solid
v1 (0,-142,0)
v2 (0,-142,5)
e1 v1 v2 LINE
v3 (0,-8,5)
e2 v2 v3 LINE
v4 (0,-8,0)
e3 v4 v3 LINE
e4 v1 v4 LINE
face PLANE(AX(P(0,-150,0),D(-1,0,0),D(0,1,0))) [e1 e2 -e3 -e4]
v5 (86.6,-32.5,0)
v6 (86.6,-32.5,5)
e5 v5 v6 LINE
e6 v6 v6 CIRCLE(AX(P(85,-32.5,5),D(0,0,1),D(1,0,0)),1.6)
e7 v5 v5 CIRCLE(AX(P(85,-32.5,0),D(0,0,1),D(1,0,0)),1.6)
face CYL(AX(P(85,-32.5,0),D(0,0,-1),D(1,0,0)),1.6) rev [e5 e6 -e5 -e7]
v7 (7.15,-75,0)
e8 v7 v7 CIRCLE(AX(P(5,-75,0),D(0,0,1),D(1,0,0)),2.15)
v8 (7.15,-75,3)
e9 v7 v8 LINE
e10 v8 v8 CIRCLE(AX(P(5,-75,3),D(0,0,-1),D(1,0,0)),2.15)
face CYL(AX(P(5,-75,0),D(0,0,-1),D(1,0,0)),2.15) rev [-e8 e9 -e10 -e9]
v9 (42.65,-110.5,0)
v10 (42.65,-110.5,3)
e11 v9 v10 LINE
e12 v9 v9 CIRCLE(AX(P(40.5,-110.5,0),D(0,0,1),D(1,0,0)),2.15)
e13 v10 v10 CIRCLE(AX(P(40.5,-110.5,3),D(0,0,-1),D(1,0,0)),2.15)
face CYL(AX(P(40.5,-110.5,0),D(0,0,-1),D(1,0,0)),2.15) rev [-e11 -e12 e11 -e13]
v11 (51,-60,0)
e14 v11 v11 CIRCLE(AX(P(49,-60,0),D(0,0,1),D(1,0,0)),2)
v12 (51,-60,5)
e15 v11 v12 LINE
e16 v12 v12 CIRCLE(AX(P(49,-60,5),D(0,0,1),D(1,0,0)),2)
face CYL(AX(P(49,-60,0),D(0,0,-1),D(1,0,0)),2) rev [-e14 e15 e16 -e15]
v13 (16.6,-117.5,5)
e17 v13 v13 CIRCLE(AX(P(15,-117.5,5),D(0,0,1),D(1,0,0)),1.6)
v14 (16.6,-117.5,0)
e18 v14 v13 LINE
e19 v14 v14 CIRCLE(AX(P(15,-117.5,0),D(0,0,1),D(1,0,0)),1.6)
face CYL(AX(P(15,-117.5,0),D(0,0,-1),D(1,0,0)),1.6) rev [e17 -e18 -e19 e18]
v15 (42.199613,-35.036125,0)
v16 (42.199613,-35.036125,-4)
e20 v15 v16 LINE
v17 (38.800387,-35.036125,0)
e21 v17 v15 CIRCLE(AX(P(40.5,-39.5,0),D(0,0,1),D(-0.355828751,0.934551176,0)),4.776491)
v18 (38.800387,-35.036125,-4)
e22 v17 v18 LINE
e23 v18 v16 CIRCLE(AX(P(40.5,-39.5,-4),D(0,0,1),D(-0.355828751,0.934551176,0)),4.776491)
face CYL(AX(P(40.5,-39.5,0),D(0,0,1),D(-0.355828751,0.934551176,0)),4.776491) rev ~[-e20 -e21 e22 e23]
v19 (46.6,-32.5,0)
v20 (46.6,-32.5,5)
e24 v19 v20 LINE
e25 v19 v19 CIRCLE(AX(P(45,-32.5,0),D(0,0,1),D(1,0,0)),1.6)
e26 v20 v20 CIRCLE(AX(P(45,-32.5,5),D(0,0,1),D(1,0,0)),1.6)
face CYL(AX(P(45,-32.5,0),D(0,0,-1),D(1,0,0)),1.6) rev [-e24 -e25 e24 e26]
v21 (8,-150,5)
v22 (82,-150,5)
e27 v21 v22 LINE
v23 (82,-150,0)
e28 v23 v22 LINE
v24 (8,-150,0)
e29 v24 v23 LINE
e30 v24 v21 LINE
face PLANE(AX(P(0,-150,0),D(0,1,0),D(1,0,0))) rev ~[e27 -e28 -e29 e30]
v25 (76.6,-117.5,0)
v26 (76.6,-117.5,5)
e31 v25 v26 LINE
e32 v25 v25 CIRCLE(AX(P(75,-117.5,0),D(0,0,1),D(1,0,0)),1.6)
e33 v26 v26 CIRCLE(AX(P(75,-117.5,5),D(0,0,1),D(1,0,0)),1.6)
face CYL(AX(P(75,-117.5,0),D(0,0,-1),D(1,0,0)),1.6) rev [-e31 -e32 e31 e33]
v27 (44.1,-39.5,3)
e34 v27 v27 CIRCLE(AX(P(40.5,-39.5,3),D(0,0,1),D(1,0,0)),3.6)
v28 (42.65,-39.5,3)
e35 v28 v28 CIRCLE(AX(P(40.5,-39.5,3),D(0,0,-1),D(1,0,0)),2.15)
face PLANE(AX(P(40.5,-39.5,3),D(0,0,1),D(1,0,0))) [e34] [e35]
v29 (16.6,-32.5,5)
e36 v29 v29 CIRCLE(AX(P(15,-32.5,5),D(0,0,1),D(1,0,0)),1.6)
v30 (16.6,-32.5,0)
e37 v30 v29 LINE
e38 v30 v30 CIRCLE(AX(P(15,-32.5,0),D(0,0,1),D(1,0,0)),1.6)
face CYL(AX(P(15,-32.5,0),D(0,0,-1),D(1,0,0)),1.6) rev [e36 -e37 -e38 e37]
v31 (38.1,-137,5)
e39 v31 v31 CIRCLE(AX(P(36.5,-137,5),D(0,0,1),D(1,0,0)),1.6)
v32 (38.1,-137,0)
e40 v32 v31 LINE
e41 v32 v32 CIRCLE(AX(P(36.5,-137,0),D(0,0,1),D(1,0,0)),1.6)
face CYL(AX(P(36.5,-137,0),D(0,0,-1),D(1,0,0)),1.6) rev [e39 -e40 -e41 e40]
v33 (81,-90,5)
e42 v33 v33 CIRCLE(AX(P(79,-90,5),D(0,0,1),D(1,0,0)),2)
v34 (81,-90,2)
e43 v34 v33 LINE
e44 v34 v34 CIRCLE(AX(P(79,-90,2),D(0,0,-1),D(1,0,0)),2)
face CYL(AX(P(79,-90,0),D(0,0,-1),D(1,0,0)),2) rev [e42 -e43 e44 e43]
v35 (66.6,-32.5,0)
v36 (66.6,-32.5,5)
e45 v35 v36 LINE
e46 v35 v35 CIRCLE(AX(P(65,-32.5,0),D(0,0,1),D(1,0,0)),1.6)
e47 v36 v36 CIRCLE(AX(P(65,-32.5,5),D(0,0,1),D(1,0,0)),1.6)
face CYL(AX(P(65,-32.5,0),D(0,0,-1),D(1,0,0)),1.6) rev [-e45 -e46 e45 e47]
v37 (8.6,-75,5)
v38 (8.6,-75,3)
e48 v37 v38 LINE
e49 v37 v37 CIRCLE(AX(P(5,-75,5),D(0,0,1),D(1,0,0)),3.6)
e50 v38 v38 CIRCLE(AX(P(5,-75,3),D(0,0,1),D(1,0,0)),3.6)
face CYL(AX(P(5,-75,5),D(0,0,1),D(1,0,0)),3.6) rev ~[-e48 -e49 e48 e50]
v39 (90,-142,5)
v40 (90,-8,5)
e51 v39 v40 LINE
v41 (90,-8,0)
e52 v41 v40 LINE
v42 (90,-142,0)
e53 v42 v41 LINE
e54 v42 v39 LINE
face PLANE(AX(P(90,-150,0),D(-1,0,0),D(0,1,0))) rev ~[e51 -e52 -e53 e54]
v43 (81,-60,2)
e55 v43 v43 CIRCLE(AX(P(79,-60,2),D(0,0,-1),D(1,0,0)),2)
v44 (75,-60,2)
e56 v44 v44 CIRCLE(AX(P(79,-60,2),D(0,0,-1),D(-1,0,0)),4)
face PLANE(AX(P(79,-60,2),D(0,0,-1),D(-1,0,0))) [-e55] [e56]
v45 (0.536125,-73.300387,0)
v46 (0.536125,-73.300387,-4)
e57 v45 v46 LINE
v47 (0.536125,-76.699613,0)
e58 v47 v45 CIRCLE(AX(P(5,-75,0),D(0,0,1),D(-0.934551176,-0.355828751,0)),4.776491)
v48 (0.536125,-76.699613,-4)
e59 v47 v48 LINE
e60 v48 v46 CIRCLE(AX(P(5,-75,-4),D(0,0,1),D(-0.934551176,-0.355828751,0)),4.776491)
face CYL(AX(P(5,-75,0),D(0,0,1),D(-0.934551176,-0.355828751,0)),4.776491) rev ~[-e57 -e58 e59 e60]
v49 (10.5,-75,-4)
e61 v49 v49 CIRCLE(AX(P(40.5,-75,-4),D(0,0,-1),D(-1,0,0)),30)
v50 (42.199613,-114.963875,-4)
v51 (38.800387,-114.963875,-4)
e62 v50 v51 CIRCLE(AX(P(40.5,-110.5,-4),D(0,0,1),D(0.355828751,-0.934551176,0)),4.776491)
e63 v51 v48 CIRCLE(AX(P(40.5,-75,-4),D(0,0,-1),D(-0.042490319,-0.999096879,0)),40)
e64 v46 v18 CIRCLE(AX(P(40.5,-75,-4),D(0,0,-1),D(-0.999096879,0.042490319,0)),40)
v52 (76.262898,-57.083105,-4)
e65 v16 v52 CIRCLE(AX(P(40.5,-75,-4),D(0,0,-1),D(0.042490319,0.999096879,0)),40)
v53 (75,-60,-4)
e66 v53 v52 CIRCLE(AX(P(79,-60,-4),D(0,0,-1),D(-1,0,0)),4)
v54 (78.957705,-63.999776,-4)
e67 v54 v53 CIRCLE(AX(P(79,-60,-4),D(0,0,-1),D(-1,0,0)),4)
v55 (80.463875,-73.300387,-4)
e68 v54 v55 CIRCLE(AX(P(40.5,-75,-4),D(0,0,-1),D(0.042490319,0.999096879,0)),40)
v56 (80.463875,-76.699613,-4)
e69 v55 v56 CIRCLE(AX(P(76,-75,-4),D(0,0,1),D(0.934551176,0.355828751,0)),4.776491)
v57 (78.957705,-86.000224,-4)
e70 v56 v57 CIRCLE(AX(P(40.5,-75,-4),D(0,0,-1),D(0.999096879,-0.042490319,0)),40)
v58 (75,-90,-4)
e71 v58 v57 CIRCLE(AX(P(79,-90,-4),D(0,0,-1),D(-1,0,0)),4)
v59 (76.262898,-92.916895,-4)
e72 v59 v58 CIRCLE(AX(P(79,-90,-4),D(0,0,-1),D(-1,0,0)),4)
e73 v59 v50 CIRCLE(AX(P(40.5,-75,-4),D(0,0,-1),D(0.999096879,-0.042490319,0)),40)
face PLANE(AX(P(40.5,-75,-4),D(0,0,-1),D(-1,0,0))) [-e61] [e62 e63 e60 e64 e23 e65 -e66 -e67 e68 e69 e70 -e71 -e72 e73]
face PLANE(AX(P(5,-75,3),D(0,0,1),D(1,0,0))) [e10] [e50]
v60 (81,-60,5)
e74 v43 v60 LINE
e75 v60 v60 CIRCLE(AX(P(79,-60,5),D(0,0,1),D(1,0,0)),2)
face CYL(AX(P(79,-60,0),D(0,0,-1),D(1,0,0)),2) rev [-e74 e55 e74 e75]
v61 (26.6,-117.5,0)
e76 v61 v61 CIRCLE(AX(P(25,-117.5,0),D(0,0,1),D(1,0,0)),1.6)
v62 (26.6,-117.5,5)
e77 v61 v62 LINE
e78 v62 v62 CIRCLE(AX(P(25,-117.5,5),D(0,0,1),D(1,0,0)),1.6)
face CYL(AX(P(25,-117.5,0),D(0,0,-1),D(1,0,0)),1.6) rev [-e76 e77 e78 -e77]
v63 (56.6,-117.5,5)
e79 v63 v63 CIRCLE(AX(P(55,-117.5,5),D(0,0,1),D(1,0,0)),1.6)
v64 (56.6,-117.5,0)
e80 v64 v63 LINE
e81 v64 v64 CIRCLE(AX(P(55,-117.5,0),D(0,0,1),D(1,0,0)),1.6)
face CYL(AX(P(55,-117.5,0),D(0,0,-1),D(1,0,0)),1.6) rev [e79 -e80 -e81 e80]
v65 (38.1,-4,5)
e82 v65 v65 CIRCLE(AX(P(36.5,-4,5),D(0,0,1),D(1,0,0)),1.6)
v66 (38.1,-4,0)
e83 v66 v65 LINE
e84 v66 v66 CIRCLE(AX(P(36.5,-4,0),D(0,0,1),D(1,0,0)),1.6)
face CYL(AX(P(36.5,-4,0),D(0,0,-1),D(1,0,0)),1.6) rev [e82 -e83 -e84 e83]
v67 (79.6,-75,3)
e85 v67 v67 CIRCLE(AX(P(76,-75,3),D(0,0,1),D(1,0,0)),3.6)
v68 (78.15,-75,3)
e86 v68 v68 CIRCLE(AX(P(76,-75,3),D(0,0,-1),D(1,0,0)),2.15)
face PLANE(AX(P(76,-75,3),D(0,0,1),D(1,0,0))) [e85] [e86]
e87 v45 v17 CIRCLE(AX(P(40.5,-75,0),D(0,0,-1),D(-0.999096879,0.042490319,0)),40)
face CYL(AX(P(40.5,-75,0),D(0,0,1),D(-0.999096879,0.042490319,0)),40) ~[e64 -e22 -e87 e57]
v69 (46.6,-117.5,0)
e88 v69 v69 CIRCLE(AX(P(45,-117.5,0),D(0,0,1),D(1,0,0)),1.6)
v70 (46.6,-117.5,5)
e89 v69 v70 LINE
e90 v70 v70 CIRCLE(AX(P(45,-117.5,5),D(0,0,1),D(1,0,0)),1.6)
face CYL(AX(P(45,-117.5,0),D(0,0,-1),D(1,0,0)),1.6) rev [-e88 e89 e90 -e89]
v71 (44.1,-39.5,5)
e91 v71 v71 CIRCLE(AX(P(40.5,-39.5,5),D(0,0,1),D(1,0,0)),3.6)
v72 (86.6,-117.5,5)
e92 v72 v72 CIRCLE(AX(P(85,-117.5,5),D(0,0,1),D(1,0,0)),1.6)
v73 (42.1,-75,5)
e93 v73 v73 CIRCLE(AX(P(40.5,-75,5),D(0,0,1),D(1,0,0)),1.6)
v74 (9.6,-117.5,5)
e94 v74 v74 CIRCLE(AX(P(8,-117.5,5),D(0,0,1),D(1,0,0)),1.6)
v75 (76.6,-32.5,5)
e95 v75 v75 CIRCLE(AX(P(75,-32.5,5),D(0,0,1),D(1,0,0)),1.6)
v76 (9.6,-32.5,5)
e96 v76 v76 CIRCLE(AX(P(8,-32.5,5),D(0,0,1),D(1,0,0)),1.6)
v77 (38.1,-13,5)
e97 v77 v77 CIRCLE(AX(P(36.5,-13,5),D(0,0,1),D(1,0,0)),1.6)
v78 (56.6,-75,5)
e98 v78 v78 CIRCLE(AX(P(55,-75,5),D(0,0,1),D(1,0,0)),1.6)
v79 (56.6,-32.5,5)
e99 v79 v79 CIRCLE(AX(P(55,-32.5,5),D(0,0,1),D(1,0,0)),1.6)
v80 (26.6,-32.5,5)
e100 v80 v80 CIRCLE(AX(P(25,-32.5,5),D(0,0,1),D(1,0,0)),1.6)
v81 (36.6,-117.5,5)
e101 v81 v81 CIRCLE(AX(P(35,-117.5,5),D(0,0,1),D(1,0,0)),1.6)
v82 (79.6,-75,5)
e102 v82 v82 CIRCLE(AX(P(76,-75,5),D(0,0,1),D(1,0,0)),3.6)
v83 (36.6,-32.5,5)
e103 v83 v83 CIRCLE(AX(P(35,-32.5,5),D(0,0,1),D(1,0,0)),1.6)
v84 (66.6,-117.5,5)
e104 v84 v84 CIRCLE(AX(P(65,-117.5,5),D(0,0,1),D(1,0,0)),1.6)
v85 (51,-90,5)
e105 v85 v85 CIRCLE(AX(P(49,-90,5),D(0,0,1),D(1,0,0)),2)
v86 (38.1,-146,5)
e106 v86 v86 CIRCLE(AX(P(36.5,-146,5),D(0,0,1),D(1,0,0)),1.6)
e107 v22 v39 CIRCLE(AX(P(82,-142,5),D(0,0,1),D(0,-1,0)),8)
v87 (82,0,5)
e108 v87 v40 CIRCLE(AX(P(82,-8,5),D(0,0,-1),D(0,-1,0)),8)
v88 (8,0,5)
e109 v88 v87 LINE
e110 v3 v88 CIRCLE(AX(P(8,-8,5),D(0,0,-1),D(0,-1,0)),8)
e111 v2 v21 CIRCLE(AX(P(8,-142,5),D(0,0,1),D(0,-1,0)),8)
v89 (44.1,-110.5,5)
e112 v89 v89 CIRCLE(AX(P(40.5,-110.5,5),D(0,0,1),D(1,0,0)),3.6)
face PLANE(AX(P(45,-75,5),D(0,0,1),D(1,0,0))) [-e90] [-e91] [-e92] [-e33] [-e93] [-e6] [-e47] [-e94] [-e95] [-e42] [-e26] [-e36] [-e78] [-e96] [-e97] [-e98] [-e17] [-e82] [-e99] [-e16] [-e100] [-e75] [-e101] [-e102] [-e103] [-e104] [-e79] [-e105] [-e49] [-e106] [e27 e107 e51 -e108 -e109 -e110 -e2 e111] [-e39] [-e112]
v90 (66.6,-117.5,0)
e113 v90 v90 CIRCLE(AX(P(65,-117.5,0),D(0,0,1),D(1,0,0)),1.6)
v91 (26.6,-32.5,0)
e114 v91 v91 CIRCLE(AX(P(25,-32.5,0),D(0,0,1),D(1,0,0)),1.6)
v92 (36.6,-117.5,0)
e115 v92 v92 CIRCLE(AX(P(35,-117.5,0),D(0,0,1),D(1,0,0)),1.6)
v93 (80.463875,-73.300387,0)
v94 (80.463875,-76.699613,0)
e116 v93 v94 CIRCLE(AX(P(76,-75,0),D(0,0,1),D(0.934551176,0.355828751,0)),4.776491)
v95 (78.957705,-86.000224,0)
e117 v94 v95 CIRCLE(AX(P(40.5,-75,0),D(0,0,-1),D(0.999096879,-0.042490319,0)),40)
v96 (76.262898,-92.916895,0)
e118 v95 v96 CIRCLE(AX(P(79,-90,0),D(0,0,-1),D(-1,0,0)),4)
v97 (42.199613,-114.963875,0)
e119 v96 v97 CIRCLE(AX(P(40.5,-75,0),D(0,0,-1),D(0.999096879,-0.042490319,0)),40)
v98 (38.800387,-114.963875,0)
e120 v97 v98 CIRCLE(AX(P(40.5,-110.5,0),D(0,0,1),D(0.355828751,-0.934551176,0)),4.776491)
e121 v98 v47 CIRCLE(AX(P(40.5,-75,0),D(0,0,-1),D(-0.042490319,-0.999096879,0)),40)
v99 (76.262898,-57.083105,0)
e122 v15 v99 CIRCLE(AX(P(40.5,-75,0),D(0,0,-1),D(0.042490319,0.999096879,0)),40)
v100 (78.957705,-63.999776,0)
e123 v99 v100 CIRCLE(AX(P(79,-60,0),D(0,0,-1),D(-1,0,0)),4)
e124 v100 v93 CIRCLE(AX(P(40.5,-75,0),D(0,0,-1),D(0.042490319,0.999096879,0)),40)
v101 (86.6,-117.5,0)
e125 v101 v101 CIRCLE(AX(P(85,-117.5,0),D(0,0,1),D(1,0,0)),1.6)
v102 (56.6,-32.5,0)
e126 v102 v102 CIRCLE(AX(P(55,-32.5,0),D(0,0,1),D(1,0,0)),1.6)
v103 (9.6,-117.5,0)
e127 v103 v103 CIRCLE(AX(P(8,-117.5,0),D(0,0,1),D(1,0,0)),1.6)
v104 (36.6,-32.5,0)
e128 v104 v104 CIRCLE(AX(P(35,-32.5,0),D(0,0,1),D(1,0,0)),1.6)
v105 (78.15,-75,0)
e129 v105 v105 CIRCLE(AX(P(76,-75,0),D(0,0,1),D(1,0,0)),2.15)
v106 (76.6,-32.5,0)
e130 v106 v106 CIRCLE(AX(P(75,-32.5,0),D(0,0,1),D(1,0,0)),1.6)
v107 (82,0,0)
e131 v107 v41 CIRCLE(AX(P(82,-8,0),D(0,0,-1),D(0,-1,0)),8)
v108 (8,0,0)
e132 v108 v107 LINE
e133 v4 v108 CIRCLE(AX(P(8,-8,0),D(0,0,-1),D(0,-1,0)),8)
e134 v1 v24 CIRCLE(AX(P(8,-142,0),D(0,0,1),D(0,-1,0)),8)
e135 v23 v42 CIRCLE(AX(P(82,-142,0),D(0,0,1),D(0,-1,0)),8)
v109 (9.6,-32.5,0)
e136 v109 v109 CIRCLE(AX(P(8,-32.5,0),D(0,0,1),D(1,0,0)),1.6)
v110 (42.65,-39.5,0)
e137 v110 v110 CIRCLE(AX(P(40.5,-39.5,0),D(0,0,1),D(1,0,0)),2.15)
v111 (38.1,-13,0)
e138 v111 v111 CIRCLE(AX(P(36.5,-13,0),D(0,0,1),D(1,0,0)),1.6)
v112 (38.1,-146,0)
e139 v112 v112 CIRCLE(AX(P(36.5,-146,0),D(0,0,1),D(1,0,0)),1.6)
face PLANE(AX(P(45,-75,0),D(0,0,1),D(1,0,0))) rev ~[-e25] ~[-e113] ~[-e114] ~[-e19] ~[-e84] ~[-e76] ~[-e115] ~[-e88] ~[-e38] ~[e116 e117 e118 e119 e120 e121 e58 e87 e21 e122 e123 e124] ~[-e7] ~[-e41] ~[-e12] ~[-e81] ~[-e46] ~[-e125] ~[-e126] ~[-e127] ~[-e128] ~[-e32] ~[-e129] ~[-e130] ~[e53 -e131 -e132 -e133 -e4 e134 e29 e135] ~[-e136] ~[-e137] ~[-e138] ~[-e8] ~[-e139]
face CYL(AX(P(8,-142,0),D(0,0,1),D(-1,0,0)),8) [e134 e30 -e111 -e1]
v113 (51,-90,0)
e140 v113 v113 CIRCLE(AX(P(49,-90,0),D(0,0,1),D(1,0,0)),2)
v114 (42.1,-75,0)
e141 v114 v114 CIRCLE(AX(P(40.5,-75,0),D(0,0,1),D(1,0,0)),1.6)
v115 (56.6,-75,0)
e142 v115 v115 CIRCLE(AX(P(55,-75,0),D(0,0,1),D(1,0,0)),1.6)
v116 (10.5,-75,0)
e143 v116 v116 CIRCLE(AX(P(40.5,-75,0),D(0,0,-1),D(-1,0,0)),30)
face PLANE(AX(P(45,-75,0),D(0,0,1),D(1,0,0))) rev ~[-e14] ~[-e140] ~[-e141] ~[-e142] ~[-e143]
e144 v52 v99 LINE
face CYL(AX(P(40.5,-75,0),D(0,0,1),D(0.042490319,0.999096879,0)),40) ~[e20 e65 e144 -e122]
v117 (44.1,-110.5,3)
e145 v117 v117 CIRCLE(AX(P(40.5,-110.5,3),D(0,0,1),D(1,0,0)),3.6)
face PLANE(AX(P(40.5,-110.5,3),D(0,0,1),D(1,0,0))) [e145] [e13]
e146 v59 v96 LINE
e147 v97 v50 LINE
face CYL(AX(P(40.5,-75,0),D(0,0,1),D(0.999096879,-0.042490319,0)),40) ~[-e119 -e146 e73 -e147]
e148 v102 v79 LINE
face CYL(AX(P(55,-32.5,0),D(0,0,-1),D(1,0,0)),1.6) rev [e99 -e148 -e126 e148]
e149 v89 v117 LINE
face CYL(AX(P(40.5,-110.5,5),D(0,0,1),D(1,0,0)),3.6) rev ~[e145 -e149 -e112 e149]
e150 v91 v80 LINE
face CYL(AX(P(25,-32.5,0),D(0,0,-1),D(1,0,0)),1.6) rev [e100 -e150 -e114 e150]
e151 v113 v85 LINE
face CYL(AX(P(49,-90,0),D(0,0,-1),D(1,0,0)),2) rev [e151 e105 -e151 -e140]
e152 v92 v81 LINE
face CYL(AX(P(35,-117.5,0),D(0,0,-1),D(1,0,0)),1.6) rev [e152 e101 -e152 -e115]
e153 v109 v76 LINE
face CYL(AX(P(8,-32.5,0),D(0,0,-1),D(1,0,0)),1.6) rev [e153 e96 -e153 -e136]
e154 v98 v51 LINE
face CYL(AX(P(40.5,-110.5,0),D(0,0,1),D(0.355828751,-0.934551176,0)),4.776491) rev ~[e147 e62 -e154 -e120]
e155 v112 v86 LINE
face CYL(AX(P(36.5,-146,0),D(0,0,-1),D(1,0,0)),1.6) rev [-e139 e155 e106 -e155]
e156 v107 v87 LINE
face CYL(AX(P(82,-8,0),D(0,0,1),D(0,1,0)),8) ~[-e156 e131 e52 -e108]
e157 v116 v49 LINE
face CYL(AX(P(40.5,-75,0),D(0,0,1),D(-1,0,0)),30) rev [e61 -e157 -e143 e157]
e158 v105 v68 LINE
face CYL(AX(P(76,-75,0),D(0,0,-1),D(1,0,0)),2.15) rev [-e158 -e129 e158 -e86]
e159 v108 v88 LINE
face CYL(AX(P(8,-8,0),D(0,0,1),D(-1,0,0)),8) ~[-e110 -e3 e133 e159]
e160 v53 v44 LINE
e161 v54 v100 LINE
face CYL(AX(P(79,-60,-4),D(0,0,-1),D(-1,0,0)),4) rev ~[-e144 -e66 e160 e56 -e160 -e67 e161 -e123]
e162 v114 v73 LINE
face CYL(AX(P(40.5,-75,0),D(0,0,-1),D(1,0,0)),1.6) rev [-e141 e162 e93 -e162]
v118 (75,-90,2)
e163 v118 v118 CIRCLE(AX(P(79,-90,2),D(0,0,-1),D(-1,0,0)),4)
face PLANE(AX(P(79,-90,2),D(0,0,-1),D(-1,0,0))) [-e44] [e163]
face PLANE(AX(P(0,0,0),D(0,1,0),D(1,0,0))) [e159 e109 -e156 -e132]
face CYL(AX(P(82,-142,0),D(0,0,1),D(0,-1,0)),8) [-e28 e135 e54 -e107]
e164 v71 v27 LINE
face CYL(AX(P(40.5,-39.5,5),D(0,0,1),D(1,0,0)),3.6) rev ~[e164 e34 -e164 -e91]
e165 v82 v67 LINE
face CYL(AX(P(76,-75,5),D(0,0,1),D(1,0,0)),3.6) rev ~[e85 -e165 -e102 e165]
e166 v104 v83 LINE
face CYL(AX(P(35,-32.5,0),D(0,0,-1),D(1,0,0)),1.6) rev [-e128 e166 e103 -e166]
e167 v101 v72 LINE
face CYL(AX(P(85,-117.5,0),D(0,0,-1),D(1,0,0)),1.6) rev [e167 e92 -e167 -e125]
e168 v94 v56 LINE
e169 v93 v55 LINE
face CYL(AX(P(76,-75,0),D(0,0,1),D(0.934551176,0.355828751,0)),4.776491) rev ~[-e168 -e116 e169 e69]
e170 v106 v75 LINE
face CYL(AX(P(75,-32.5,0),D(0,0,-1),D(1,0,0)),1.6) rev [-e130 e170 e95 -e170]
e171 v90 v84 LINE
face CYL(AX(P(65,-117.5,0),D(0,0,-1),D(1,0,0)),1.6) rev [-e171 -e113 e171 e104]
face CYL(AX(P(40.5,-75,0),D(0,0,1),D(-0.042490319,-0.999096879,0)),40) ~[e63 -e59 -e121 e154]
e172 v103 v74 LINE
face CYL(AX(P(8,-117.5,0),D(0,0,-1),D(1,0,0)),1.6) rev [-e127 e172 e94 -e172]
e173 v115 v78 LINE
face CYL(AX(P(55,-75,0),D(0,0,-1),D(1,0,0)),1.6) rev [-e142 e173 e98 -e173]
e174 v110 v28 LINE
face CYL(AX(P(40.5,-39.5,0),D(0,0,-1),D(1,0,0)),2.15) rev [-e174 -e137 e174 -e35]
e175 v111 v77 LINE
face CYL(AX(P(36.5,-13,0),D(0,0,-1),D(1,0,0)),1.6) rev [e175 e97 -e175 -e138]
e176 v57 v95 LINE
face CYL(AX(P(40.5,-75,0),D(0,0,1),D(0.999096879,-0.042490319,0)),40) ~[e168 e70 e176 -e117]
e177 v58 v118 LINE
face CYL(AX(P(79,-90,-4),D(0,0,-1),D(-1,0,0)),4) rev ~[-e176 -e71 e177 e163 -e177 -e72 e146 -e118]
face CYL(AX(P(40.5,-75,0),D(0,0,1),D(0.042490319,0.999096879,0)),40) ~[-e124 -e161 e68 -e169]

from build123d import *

# Parameters (mm, degrees)
SKETCH_1_W          = 90
SKETCH_1_H          = 150
SKETCH_1_R          = 2
SKETCH_1_R_2        = 2.15
SKETCH_1_R_3        = 1.6
EXTRUDE_1_DEPTH     = 5
FILLET_1_R          = 8
SKETCH_2_R          = 3.6
CUT_EXTRUDE_1_DEPTH = 2
SKETCH_4_R          = 30
EXTRUDE_2_DEPTH     = 4
SKETCH_5_R          = 4
CUT_EXTRUDE_2_DEPTH = 6


with BuildPart() as part:
    # 草图1 → 凸台-拉伸1 (new body)
    with BuildSketch(Plane.XY):
        with Locations((45, -75)):
            Rectangle(SKETCH_1_W, SKETCH_1_H)
        with Locations((79, -60)):
            Circle(SKETCH_1_R, mode=Mode.SUBTRACT)
        with Locations((79, -90)):
            Circle(SKETCH_1_R, mode=Mode.SUBTRACT)
        with Locations((49, -60)):
            Circle(SKETCH_1_R, mode=Mode.SUBTRACT)
        with Locations((49, -90)):
            Circle(SKETCH_1_R, mode=Mode.SUBTRACT)
        with Locations((40.5, -39.5)):
            Circle(SKETCH_1_R_2, mode=Mode.SUBTRACT)
        with Locations((40.5, -110.5)):
            Circle(SKETCH_1_R_2, mode=Mode.SUBTRACT)
        with Locations((76, -75)):
            Circle(SKETCH_1_R_2, mode=Mode.SUBTRACT)
        with Locations((5, -75)):
            Circle(SKETCH_1_R_2, mode=Mode.SUBTRACT)
        with Locations((85, -117.5)):
            Circle(SKETCH_1_R_3, mode=Mode.SUBTRACT)
        with Locations((75, -117.5)):
            Circle(SKETCH_1_R_3, mode=Mode.SUBTRACT)
        with Locations((65, -117.5)):
            Circle(SKETCH_1_R_3, mode=Mode.SUBTRACT)
        with Locations((55, -117.5)):
            Circle(SKETCH_1_R_3, mode=Mode.SUBTRACT)
        with Locations((45, -117.5)):
            Circle(SKETCH_1_R_3, mode=Mode.SUBTRACT)
        with Locations((85, -32.5)):
            Circle(SKETCH_1_R_3, mode=Mode.SUBTRACT)
        with Locations((75, -32.5)):
            Circle(SKETCH_1_R_3, mode=Mode.SUBTRACT)
        with Locations((65, -32.5)):
            Circle(SKETCH_1_R_3, mode=Mode.SUBTRACT)
        with Locations((55, -32.5)):
            Circle(SKETCH_1_R_3, mode=Mode.SUBTRACT)
        with Locations((45, -32.5)):
            Circle(SKETCH_1_R_3, mode=Mode.SUBTRACT)
        with Locations((35, -117.5)):
            Circle(SKETCH_1_R_3, mode=Mode.SUBTRACT)
        with Locations((25, -117.5)):
            Circle(SKETCH_1_R_3, mode=Mode.SUBTRACT)
        with Locations((15, -117.5)):
            Circle(SKETCH_1_R_3, mode=Mode.SUBTRACT)
        with Locations((35, -32.5)):
            Circle(SKETCH_1_R_3, mode=Mode.SUBTRACT)
        with Locations((25, -32.5)):
            Circle(SKETCH_1_R_3, mode=Mode.SUBTRACT)
        with Locations((15, -32.5)):
            Circle(SKETCH_1_R_3, mode=Mode.SUBTRACT)
        with Locations((8, -117.5)):
            Circle(SKETCH_1_R_3, mode=Mode.SUBTRACT)
        with Locations((8, -32.5)):
            Circle(SKETCH_1_R_3, mode=Mode.SUBTRACT)
        with Locations((36.5, -4)):
            Circle(SKETCH_1_R_3, mode=Mode.SUBTRACT)
        with Locations((36.5, -13)):
            Circle(SKETCH_1_R_3, mode=Mode.SUBTRACT)
        with Locations((36.5, -137)):
            Circle(SKETCH_1_R_3, mode=Mode.SUBTRACT)
        with Locations((36.5, -146)):
            Circle(SKETCH_1_R_3, mode=Mode.SUBTRACT)
        with Locations((55, -75)):
            Circle(SKETCH_1_R_3, mode=Mode.SUBTRACT)
        with Locations((40.5, -75)):
            Circle(SKETCH_1_R_3, mode=Mode.SUBTRACT)
    extrude(amount=EXTRUDE_1_DEPTH)

    # 圆角1
    fillet_1_edges = [part.edges().sort_by_distance(p)[0] for p in [
        (0, 0, 2.5),
        (90, 0, 2.5),
        (90, -150, 2.5),
        (0, -150, 2.5),
    ]]
    fillet(fillet_1_edges, radius=FILLET_1_R)

    # 草图2 → 切除-拉伸1 (cut)
    with BuildSketch(Plane.XY.offset(5)):
        with Locations((40.5, -39.5)):
            Circle(SKETCH_2_R)
        with Locations((76, -75)):
            Circle(SKETCH_2_R)
        with Locations((5, -75)):
            Circle(SKETCH_2_R)
        with Locations((40.5, -110.5)):
            Circle(SKETCH_2_R)
    extrude(amount=-CUT_EXTRUDE_1_DEPTH, mode=Mode.SUBTRACT)

    # 草图4 → 凸台-拉伸2 (add)
    with BuildSketch(Plane(origin=(0, 0, 0), x_dir=(-1, 0, 0), z_dir=(0, 0, -1))):
        with BuildLine():
            ThreePointArc((-42.199612772, -35.036124857), (-68.784271247, -46.715728753), (-80.463875143, -73.300387228))
            ThreePointArc((-80.463875143, -73.300387228), (-71.223509147, -75), (-80.463875143, -76.699612772))
            ThreePointArc((-80.463875143, -76.699612772), (-68.784271247, -103.284271247), (-42.199612772, -114.963875143))
            ThreePointArc((-42.199612772, -114.963875143), (-40.5, -105.723509147), (-38.800387228, -114.963875143))
            ThreePointArc((-38.800387228, -114.963875143), (-12.215728753, -103.284271247), (-0.536124857, -76.699612772))
            ThreePointArc((-0.536124857, -76.699612772), (-9.776490853, -75), (-0.536124857, -73.300387228))
            ThreePointArc((-0.536124857, -73.300387228), (-12.215728753, -46.715728753), (-38.800387228, -35.036124857))
            ThreePointArc((-38.800387228, -35.036124857), (-40.5, -44.276490853), (-42.199612772, -35.036124857))
        make_face()
        with Locations((-40.5, -75)):
            Circle(SKETCH_4_R, mode=Mode.SUBTRACT)
    extrude(amount=EXTRUDE_2_DEPTH)

    # 草图5 → 切除-拉伸2 (cut)
    with BuildSketch(Plane(origin=(0, 0, -4), x_dir=(-1, 0, 0), z_dir=(0, 0, -1))):
        with Locations((-79, -60)):
            Circle(SKETCH_5_R)
        with Locations((-79, -90)):
            Circle(SKETCH_5_R)
    extrude(amount=-CUT_EXTRUDE_2_DEPTH, mode=Mode.SUBTRACT)


solid = part.part
